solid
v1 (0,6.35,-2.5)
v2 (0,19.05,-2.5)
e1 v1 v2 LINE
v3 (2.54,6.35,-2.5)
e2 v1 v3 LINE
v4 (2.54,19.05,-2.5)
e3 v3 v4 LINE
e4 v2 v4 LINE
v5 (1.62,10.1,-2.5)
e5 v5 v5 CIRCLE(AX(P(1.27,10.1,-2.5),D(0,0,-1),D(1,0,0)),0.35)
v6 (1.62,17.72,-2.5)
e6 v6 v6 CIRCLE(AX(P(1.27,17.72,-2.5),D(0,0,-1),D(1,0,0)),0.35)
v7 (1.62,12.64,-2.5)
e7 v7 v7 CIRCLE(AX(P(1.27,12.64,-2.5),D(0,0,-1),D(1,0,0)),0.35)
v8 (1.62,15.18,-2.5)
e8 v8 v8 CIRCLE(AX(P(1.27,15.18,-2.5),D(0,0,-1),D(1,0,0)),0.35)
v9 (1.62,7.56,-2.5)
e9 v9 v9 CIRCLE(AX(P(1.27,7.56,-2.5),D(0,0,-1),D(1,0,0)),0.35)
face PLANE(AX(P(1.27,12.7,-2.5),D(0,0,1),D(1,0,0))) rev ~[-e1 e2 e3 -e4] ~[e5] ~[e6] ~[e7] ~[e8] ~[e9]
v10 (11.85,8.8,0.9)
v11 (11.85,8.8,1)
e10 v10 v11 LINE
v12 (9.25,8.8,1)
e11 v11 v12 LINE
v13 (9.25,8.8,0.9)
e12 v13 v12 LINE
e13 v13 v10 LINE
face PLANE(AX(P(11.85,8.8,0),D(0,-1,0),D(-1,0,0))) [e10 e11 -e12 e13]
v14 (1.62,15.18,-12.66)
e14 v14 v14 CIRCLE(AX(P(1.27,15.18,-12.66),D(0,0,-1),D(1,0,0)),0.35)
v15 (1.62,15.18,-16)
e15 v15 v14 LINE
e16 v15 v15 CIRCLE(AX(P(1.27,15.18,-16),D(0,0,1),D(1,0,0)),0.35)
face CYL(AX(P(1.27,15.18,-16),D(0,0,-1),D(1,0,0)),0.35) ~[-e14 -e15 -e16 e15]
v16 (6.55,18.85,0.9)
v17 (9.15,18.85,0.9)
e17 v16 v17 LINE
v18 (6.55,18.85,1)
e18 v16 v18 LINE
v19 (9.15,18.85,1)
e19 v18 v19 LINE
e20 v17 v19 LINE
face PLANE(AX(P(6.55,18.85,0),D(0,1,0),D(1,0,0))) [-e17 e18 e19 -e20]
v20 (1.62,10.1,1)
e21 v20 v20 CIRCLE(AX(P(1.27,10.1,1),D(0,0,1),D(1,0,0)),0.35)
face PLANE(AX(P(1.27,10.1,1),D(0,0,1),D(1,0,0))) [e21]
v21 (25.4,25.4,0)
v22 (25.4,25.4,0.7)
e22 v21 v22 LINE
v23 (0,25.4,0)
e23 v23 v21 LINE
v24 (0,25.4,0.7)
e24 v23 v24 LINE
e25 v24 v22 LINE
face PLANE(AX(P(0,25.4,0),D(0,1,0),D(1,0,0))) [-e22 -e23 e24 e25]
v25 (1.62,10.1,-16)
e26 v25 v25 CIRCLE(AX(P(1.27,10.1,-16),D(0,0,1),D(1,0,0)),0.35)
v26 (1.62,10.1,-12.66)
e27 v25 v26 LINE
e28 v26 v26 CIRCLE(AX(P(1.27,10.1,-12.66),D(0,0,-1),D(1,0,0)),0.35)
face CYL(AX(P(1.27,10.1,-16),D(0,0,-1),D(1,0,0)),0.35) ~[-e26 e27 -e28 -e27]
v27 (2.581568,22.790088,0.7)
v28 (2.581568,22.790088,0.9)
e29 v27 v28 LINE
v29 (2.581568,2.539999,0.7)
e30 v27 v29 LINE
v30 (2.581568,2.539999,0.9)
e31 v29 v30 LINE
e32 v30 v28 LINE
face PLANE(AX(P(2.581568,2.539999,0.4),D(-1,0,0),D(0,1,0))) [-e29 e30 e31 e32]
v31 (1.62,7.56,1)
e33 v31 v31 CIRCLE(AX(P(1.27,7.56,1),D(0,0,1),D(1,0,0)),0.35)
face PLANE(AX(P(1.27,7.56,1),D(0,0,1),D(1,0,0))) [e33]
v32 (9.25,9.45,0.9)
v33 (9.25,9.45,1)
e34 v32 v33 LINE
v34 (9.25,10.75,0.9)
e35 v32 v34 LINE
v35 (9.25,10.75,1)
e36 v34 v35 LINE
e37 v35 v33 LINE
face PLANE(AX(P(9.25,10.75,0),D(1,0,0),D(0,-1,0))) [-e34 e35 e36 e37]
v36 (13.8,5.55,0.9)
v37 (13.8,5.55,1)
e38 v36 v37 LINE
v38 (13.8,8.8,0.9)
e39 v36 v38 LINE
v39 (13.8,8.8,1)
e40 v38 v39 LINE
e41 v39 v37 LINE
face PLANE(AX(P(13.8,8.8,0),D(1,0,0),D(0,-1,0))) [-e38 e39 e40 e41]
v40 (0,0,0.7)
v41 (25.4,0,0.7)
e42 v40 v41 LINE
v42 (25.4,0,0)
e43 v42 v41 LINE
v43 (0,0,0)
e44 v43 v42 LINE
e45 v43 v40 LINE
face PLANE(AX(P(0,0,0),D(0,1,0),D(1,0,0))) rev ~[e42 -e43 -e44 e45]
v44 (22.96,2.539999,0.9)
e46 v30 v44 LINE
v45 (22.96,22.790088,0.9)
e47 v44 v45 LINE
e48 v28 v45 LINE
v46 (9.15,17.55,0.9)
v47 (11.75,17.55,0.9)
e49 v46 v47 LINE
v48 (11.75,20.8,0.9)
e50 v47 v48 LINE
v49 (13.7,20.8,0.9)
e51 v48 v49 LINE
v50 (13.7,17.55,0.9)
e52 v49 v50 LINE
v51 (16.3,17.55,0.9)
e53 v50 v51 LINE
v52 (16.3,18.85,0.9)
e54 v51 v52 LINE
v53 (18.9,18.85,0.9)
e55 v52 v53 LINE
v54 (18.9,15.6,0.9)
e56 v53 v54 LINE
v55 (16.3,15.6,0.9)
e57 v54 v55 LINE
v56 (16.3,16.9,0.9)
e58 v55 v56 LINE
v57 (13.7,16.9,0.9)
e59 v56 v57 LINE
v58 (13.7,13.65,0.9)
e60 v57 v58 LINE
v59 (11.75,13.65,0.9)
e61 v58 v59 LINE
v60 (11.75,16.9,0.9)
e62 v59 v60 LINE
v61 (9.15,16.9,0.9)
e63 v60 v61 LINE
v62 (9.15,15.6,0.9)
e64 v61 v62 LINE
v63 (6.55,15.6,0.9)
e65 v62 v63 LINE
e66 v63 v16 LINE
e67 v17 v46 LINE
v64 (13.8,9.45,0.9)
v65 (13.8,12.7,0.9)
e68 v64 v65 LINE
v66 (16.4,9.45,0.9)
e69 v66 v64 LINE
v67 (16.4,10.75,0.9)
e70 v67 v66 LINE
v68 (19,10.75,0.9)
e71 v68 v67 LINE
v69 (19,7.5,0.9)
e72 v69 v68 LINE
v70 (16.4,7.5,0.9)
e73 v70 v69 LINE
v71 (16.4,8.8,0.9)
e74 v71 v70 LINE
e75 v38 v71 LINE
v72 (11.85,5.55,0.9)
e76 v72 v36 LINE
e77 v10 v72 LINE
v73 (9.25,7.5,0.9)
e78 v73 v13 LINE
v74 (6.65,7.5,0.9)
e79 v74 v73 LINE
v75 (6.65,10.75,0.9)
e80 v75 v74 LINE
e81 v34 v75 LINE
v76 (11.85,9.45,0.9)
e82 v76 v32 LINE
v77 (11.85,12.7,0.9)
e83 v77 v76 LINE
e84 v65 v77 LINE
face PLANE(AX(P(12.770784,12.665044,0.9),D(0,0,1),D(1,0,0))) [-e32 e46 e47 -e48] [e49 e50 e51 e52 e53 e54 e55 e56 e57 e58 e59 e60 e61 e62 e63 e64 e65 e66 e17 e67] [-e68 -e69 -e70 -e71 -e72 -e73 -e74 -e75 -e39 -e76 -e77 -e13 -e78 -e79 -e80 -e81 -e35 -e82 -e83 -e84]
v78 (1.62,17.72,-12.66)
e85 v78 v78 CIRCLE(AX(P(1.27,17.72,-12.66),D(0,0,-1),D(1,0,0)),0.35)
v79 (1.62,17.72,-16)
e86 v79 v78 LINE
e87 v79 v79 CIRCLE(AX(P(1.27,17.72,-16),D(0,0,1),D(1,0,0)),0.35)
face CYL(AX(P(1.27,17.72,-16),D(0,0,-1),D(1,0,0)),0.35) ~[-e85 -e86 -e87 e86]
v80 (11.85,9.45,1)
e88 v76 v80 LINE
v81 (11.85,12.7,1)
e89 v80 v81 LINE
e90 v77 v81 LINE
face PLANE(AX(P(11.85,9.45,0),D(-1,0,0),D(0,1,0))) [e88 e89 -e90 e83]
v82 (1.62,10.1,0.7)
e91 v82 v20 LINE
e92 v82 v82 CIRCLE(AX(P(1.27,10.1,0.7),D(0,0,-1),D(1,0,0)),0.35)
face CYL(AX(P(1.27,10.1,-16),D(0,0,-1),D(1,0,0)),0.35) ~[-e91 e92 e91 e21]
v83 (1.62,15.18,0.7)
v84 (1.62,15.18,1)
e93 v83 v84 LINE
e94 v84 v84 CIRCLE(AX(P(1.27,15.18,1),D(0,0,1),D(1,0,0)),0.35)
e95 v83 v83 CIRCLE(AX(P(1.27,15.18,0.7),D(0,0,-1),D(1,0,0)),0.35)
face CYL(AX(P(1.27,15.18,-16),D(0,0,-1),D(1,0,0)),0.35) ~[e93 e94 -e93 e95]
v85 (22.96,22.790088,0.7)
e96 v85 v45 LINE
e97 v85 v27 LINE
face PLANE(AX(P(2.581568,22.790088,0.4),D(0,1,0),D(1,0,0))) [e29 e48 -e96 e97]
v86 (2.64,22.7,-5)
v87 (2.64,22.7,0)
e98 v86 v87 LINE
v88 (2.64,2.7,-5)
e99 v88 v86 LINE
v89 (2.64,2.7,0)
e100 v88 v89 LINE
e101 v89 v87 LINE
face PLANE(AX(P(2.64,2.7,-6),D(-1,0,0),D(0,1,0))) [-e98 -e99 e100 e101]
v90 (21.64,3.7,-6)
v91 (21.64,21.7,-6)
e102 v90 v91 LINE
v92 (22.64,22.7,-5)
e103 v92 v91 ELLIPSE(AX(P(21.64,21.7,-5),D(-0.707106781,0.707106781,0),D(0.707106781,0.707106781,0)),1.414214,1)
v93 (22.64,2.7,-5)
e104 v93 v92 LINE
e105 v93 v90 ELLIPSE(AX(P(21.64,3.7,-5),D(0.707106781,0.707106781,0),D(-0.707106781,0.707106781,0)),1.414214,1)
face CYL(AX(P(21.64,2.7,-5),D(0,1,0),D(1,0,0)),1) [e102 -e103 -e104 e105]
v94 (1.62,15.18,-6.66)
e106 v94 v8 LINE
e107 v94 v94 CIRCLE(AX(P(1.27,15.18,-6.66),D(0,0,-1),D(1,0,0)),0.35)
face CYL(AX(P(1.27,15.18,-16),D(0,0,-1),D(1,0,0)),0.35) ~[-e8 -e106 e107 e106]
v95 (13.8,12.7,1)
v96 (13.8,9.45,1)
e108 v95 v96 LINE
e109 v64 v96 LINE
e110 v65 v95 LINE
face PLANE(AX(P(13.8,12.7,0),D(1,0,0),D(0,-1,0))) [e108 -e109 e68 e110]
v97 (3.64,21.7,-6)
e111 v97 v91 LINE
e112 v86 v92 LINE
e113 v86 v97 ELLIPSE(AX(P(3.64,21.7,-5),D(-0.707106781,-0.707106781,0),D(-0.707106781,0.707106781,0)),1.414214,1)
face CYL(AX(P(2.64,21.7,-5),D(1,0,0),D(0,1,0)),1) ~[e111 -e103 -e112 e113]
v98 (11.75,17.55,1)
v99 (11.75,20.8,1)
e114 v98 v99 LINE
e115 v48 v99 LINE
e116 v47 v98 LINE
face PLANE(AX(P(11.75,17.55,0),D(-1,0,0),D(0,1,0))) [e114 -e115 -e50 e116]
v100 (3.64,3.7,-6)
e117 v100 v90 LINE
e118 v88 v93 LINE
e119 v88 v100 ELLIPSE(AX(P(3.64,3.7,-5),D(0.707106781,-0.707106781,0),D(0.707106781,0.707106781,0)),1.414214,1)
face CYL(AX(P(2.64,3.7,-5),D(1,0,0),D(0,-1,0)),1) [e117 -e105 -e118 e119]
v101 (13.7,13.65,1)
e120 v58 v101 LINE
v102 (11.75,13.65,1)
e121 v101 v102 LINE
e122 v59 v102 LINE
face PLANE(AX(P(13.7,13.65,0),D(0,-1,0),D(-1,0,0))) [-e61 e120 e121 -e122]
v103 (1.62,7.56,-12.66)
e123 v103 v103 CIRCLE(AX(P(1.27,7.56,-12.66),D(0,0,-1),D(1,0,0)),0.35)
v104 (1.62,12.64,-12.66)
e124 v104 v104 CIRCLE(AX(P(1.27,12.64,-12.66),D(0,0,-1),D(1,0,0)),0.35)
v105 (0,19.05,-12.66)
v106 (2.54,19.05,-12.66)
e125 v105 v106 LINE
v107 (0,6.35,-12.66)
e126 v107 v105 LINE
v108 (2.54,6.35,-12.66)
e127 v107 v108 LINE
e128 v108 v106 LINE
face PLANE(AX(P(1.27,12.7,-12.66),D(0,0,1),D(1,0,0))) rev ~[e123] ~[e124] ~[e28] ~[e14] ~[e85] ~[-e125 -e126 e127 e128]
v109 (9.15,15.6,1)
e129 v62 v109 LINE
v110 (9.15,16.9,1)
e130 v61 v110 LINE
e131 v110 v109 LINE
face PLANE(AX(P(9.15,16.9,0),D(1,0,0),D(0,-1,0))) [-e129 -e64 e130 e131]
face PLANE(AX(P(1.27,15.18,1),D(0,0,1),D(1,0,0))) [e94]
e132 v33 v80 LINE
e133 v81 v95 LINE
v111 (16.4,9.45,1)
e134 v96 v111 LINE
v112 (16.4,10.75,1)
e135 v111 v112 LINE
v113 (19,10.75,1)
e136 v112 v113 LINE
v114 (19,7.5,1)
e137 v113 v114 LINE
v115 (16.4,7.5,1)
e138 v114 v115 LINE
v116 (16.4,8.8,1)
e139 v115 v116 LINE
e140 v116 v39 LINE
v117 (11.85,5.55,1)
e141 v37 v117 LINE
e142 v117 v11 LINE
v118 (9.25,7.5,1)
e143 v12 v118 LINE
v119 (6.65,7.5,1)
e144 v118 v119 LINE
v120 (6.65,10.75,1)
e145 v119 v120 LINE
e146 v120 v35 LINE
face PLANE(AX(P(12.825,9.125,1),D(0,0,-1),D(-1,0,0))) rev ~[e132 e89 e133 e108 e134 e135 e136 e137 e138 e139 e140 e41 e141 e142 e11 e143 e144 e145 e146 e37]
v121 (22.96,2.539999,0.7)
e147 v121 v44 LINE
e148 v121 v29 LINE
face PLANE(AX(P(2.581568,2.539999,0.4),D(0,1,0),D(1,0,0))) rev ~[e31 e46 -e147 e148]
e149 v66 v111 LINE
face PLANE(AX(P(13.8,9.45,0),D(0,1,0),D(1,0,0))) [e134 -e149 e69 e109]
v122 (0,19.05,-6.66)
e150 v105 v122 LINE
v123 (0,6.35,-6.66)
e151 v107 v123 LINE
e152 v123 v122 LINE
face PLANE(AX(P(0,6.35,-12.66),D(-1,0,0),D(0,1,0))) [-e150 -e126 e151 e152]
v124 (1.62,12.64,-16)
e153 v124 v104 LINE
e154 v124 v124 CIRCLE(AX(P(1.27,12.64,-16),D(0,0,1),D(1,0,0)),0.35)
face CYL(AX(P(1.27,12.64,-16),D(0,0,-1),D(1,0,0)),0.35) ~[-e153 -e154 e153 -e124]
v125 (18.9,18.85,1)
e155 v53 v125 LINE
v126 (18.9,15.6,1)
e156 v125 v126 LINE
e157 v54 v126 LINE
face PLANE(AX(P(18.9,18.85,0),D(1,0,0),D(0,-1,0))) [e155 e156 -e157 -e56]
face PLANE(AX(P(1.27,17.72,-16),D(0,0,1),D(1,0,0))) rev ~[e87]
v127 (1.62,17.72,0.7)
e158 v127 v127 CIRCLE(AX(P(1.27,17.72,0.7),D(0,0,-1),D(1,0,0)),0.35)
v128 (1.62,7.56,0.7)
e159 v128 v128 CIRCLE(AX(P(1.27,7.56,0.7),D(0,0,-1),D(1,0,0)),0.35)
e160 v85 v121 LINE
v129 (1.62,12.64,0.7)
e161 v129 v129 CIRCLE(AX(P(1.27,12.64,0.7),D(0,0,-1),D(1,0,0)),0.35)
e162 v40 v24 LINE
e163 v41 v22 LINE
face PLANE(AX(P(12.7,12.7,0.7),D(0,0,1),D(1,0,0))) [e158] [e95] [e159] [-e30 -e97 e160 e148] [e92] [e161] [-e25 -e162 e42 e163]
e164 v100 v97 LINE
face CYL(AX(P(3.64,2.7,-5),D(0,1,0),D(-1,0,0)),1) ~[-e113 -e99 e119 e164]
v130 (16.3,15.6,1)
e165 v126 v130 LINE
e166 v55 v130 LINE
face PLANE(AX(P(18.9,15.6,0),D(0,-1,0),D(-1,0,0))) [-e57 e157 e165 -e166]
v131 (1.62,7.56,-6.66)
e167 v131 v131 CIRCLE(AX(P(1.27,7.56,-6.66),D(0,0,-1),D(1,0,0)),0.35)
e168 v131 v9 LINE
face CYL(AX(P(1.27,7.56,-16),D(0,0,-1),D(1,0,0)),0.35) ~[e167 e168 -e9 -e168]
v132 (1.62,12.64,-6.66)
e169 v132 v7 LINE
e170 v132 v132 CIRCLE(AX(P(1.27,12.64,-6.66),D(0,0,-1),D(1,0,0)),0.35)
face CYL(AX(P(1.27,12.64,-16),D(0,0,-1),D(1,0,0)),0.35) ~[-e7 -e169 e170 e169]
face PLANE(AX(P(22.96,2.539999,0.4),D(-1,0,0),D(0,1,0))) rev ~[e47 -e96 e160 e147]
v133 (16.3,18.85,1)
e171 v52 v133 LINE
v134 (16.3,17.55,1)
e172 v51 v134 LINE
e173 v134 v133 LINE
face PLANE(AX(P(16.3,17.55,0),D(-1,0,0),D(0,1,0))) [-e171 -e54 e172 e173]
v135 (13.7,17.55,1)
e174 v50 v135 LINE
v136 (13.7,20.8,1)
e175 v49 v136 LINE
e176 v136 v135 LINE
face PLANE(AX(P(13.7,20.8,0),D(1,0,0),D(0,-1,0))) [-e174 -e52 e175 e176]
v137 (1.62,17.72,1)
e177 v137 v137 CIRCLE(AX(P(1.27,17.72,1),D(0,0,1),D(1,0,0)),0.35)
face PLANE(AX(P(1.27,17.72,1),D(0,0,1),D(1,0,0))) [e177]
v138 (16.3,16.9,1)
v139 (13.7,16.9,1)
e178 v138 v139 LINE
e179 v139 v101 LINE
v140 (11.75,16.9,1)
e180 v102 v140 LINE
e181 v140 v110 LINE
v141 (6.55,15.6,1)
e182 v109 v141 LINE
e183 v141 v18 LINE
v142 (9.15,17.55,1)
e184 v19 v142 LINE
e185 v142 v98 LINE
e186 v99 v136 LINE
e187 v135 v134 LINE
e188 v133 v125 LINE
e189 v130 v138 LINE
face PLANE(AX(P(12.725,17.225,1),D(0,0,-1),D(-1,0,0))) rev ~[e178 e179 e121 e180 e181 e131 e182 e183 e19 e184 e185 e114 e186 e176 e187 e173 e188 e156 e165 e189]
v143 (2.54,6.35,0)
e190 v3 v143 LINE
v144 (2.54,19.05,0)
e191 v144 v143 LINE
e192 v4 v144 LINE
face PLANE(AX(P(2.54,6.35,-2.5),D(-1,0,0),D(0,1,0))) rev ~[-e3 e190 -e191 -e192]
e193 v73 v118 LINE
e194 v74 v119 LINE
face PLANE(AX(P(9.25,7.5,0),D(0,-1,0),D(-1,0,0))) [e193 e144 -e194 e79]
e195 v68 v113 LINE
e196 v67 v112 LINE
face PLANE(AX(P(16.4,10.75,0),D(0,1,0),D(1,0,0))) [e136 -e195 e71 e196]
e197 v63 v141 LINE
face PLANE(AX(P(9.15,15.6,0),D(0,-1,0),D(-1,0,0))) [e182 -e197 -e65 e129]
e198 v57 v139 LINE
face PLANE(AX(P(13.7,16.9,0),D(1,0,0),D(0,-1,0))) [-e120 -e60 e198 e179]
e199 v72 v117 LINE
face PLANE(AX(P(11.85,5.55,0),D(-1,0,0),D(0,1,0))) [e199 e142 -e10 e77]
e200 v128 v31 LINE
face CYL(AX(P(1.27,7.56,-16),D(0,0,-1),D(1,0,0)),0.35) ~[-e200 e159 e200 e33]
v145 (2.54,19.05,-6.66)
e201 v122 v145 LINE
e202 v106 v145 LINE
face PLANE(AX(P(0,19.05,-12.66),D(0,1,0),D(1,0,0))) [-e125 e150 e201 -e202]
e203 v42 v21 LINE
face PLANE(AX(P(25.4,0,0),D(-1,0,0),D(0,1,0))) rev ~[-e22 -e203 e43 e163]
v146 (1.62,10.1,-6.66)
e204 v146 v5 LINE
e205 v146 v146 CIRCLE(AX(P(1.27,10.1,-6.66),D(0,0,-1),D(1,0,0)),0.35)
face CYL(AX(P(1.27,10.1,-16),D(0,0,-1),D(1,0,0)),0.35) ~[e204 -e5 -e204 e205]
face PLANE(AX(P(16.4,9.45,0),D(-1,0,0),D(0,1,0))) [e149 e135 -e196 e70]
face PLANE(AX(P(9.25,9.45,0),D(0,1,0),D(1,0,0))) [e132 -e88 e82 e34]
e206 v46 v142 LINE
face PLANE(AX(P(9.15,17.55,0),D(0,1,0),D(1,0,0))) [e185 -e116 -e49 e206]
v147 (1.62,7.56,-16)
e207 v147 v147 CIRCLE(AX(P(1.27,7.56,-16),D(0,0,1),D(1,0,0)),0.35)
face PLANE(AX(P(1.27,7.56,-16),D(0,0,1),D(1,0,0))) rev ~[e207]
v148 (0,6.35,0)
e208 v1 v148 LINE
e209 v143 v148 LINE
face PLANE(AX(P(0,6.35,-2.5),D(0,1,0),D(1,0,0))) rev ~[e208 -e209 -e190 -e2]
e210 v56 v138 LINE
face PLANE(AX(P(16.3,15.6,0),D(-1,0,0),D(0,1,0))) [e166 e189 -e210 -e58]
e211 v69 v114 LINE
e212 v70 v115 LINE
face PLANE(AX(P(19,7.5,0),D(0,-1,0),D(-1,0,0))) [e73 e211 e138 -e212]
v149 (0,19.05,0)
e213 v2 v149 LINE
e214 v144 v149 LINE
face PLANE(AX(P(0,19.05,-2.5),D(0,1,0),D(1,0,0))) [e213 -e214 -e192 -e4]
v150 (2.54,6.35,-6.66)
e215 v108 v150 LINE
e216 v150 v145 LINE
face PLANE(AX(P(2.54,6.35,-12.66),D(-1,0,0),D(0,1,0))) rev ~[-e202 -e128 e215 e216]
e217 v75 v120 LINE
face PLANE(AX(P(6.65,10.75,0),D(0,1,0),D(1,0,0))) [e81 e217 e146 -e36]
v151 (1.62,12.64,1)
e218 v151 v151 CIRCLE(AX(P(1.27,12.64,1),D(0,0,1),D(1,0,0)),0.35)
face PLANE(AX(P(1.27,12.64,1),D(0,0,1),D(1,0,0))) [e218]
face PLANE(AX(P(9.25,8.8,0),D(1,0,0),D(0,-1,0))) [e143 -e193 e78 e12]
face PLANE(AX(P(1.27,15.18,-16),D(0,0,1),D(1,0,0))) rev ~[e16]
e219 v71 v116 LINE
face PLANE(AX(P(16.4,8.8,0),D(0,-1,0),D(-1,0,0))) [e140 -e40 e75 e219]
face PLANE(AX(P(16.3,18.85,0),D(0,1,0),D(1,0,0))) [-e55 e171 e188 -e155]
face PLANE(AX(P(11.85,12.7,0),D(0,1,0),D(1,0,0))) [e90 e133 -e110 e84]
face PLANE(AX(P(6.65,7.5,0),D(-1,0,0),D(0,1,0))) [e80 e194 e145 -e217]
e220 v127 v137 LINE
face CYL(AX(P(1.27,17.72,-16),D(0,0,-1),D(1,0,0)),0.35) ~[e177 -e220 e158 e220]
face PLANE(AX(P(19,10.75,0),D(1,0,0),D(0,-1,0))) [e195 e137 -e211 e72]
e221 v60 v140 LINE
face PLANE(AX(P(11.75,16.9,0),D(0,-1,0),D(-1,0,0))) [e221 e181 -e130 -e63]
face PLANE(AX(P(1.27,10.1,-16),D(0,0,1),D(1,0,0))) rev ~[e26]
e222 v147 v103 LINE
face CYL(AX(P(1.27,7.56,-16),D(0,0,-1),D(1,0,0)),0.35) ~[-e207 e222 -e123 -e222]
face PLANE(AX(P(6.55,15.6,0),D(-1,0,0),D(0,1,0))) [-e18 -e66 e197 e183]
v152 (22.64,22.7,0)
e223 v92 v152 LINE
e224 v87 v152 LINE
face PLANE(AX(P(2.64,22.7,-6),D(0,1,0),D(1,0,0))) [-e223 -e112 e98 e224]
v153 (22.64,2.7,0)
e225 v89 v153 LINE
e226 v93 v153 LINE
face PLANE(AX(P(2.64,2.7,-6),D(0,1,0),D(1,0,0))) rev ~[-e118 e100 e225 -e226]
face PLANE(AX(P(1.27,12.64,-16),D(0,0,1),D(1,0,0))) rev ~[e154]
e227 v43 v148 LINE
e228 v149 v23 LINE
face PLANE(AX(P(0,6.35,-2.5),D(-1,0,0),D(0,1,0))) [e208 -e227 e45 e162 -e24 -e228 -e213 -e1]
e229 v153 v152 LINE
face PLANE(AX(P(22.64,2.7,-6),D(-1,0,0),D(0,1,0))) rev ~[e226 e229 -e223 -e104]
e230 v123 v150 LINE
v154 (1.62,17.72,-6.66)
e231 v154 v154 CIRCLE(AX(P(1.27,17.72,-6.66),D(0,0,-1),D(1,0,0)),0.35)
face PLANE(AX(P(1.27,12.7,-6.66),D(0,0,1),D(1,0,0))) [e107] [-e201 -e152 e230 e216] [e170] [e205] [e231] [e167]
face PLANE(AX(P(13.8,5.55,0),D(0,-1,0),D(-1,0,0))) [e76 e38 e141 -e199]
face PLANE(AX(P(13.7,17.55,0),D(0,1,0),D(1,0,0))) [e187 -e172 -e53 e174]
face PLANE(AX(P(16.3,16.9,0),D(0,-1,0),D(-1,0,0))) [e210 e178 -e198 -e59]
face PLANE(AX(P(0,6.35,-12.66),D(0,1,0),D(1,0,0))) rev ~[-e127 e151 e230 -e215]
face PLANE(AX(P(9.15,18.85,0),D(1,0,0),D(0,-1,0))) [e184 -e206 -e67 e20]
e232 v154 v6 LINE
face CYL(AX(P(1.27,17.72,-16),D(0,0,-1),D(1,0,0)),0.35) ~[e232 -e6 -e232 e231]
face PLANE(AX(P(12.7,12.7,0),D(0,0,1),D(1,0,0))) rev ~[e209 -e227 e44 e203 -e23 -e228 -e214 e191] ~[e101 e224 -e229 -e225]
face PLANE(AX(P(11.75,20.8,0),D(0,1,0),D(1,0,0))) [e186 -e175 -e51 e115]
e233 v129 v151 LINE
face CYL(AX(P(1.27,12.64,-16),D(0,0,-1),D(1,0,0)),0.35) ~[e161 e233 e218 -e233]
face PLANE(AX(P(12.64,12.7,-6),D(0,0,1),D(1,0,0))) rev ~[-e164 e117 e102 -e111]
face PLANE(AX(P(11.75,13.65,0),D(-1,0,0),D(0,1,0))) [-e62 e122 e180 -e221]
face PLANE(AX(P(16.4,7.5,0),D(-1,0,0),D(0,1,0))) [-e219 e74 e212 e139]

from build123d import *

# Parameters (mm, degrees)
BOX002_W          = 2.54
BOX002_H          = 12.7
BOX002_DEPTH      = 2.54
CYLINDER_R        = 0.35
CYLINDER_DEPTH    = 17
CYLINDER001_R     = 0.35
CYLINDER001_DEPTH = 17
CYLINDER002_R     = 0.35
CYLINDER002_DEPTH = 17
CYLINDER003_R     = 0.35
CYLINDER003_DEPTH = 17
CYLINDER004_R     = 0.35
CYLINDER004_DEPTH = 17
BOX001_W          = 20
BOX001_H          = 20
BOX001_DEPTH      = 6
FILLET_R          = 1
BOX003_W          = 2.54
BOX003_H          = 12.7
BOX003_DEPTH      = 6
PAD_DEPTH         = 1
SKETCH002_W       = 20.378432
SKETCH002_H       = 20.250089
PAD001_DEPTH      = 0.5
PAD002_DEPTH      = 1
BOX_W             = 25.4
BOX_H             = 25.4
BOX_DEPTH         = 0.7


with BuildPart() as w_rfel002:
    # Box002 → Box002 (new body)
    with BuildSketch(Plane(origin=(0, 6.35, -2.5), x_dir=(1, 0, 0), z_dir=(0, 0, 1))):
        with Locations((1.27, 6.35)):
            Rectangle(BOX002_W, BOX002_H)
    extrude(amount=BOX002_DEPTH)


with BuildPart() as zylinder:
    # Cylinder → Cylinder (new body)
    with BuildSketch(Plane(origin=(1.27, 10.1, -16), x_dir=(1, 0, 0), z_dir=(0, 0, 1))):
        Circle(CYLINDER_R)
    extrude(amount=CYLINDER_DEPTH)


with BuildPart() as zylinder001:
    # Cylinder001 → Cylinder001 (new body)
    with BuildSketch(Plane(origin=(1.27, 12.64, -16), x_dir=(1, 0, 0), z_dir=(0, 0, 1))):
        Circle(CYLINDER001_R)
    extrude(amount=CYLINDER001_DEPTH)


with BuildPart() as zylinder002:
    # Cylinder002 → Cylinder002 (new body)
    with BuildSketch(Plane(origin=(1.27, 7.56, -16), x_dir=(1, 0, 0), z_dir=(0, 0, 1))):
        Circle(CYLINDER002_R)
    extrude(amount=CYLINDER002_DEPTH)


with BuildPart() as zylinder003:
    # Cylinder003 → Cylinder003 (new body)
    with BuildSketch(Plane(origin=(1.27, 15.18, -16), x_dir=(1, 0, 0), z_dir=(0, 0, 1))):
        Circle(CYLINDER003_R)
    extrude(amount=CYLINDER003_DEPTH)


with BuildPart() as zylinder004:
    # Cylinder004 → Cylinder004 (new body)
    with BuildSketch(Plane(origin=(1.27, 17.72, -16), x_dir=(1, 0, 0), z_dir=(0, 0, 1))):
        Circle(CYLINDER004_R)
    extrude(amount=CYLINDER004_DEPTH)


with BuildPart() as fillet_body:
    # Box001 → Box001 (new body)
    with BuildSketch(Plane(origin=(2.64, 2.7, -6), x_dir=(1, 0, 0), z_dir=(0, 0, 1))):
        with Locations((10, 10)):
            Rectangle(BOX001_W, BOX001_H)
    extrude(amount=BOX001_DEPTH)

    # Fillet
    fillet_edges = [fillet_body.edges().sort_by_distance(p)[0] for p in [
        (2.64, 12.7, -6),
        (22.64, 12.7, -6),
        (12.64, 2.7, -6),
        (12.64, 22.7, -6),
    ]]
    fillet(fillet_edges, radius=FILLET_R)


with BuildPart() as w_rfel003:
    # Box003 → Box003 (new body)
    with BuildSketch(Plane(origin=(0, 6.35, -12.66), x_dir=(1, 0, 0), z_dir=(0, 0, 1))):
        with Locations((1.27, 6.35)):
            Rectangle(BOX003_W, BOX003_H)
    extrude(amount=BOX003_DEPTH)


with BuildPart() as body:
    # Sketch001 → Pad (new body)
    with BuildSketch(Plane.XY):
        Polygon((-18.85, 18.85), (-16.25, 18.85), (-16.25, 17.55), (-13.65, 17.55), (-13.65, 20.8), (-11.7, 20.8), (-11.7, 17.55), (-9.1, 17.55), (-9.1, 18.85), (-6.5, 18.85), (-6.5, 15.6), (-9.1, 15.6), (-9.1, 16.9), (-11.7, 16.9), (-11.7, 13.65), (-13.65, 13.65), (-13.65, 16.9), (-16.25, 16.9), (-16.25, 15.6), (-18.85, 15.6), align=None)
    extrude(amount=PAD_DEPTH)


with BuildPart() as body_1:
    # Body placement: moved
    add(body.part.moved(Location((25.4, 0, 0))))


with BuildPart() as body001:
    # Sketch002 → Pad001 (new body)
    with BuildSketch(Plane.XY):
        with Locations((-12.729216, 12.665044)):
            Rectangle(SKETCH002_W, SKETCH002_H)
    extrude(amount=PAD001_DEPTH)


with BuildPart() as body001_1:
    # Body001 placement: moved
    add(body001.part.moved(Location((25.5, 0, 0.4))))


with BuildPart() as body002:
    # Sketch003 → Pad002 (new body)
    with BuildSketch(Plane.XY):
        Polygon((-18.85, 18.85), (-16.25, 18.85), (-16.25, 17.55), (-13.65, 17.55), (-13.65, 20.8), (-11.7, 20.8), (-11.7, 17.55), (-9.1, 17.55), (-9.1, 18.85), (-6.5, 18.85), (-6.5, 15.6), (-9.1, 15.6), (-9.1, 16.9), (-11.7, 16.9), (-11.7, 13.65), (-13.65, 13.65), (-13.65, 16.9), (-16.25, 16.9), (-16.25, 15.6), (-18.85, 15.6), align=None)
    extrude(amount=PAD002_DEPTH)


with BuildPart() as body002_1:
    # Body002 placement: moved
    add(body002.part.moved(Location((25.5, -8.1, 0))))


with BuildPart() as fusion:
    # Box → Box (new body)
    with BuildSketch(Plane.XY):
        with Locations((12.7, 12.7)):
            Rectangle(BOX_W, BOX_H)
    extrude(amount=BOX_DEPTH)

    # Fusion: union Würfel002, Zylinder, Zylinder001, Zylinder002, Zylinder003, Zylinder004, Fillet body, Würfel003, Body, Body001, Body002
    add(w_rfel002.part)
    add(zylinder.part)
    add(zylinder001.part)
    add(zylinder002.part)
    add(zylinder003.part)
    add(zylinder004.part)
    add(fillet_body.part)
    add(w_rfel003.part)
    add(body_1.part)
    add(body001_1.part)
    add(body002_1.part)


solid = fusion.part
